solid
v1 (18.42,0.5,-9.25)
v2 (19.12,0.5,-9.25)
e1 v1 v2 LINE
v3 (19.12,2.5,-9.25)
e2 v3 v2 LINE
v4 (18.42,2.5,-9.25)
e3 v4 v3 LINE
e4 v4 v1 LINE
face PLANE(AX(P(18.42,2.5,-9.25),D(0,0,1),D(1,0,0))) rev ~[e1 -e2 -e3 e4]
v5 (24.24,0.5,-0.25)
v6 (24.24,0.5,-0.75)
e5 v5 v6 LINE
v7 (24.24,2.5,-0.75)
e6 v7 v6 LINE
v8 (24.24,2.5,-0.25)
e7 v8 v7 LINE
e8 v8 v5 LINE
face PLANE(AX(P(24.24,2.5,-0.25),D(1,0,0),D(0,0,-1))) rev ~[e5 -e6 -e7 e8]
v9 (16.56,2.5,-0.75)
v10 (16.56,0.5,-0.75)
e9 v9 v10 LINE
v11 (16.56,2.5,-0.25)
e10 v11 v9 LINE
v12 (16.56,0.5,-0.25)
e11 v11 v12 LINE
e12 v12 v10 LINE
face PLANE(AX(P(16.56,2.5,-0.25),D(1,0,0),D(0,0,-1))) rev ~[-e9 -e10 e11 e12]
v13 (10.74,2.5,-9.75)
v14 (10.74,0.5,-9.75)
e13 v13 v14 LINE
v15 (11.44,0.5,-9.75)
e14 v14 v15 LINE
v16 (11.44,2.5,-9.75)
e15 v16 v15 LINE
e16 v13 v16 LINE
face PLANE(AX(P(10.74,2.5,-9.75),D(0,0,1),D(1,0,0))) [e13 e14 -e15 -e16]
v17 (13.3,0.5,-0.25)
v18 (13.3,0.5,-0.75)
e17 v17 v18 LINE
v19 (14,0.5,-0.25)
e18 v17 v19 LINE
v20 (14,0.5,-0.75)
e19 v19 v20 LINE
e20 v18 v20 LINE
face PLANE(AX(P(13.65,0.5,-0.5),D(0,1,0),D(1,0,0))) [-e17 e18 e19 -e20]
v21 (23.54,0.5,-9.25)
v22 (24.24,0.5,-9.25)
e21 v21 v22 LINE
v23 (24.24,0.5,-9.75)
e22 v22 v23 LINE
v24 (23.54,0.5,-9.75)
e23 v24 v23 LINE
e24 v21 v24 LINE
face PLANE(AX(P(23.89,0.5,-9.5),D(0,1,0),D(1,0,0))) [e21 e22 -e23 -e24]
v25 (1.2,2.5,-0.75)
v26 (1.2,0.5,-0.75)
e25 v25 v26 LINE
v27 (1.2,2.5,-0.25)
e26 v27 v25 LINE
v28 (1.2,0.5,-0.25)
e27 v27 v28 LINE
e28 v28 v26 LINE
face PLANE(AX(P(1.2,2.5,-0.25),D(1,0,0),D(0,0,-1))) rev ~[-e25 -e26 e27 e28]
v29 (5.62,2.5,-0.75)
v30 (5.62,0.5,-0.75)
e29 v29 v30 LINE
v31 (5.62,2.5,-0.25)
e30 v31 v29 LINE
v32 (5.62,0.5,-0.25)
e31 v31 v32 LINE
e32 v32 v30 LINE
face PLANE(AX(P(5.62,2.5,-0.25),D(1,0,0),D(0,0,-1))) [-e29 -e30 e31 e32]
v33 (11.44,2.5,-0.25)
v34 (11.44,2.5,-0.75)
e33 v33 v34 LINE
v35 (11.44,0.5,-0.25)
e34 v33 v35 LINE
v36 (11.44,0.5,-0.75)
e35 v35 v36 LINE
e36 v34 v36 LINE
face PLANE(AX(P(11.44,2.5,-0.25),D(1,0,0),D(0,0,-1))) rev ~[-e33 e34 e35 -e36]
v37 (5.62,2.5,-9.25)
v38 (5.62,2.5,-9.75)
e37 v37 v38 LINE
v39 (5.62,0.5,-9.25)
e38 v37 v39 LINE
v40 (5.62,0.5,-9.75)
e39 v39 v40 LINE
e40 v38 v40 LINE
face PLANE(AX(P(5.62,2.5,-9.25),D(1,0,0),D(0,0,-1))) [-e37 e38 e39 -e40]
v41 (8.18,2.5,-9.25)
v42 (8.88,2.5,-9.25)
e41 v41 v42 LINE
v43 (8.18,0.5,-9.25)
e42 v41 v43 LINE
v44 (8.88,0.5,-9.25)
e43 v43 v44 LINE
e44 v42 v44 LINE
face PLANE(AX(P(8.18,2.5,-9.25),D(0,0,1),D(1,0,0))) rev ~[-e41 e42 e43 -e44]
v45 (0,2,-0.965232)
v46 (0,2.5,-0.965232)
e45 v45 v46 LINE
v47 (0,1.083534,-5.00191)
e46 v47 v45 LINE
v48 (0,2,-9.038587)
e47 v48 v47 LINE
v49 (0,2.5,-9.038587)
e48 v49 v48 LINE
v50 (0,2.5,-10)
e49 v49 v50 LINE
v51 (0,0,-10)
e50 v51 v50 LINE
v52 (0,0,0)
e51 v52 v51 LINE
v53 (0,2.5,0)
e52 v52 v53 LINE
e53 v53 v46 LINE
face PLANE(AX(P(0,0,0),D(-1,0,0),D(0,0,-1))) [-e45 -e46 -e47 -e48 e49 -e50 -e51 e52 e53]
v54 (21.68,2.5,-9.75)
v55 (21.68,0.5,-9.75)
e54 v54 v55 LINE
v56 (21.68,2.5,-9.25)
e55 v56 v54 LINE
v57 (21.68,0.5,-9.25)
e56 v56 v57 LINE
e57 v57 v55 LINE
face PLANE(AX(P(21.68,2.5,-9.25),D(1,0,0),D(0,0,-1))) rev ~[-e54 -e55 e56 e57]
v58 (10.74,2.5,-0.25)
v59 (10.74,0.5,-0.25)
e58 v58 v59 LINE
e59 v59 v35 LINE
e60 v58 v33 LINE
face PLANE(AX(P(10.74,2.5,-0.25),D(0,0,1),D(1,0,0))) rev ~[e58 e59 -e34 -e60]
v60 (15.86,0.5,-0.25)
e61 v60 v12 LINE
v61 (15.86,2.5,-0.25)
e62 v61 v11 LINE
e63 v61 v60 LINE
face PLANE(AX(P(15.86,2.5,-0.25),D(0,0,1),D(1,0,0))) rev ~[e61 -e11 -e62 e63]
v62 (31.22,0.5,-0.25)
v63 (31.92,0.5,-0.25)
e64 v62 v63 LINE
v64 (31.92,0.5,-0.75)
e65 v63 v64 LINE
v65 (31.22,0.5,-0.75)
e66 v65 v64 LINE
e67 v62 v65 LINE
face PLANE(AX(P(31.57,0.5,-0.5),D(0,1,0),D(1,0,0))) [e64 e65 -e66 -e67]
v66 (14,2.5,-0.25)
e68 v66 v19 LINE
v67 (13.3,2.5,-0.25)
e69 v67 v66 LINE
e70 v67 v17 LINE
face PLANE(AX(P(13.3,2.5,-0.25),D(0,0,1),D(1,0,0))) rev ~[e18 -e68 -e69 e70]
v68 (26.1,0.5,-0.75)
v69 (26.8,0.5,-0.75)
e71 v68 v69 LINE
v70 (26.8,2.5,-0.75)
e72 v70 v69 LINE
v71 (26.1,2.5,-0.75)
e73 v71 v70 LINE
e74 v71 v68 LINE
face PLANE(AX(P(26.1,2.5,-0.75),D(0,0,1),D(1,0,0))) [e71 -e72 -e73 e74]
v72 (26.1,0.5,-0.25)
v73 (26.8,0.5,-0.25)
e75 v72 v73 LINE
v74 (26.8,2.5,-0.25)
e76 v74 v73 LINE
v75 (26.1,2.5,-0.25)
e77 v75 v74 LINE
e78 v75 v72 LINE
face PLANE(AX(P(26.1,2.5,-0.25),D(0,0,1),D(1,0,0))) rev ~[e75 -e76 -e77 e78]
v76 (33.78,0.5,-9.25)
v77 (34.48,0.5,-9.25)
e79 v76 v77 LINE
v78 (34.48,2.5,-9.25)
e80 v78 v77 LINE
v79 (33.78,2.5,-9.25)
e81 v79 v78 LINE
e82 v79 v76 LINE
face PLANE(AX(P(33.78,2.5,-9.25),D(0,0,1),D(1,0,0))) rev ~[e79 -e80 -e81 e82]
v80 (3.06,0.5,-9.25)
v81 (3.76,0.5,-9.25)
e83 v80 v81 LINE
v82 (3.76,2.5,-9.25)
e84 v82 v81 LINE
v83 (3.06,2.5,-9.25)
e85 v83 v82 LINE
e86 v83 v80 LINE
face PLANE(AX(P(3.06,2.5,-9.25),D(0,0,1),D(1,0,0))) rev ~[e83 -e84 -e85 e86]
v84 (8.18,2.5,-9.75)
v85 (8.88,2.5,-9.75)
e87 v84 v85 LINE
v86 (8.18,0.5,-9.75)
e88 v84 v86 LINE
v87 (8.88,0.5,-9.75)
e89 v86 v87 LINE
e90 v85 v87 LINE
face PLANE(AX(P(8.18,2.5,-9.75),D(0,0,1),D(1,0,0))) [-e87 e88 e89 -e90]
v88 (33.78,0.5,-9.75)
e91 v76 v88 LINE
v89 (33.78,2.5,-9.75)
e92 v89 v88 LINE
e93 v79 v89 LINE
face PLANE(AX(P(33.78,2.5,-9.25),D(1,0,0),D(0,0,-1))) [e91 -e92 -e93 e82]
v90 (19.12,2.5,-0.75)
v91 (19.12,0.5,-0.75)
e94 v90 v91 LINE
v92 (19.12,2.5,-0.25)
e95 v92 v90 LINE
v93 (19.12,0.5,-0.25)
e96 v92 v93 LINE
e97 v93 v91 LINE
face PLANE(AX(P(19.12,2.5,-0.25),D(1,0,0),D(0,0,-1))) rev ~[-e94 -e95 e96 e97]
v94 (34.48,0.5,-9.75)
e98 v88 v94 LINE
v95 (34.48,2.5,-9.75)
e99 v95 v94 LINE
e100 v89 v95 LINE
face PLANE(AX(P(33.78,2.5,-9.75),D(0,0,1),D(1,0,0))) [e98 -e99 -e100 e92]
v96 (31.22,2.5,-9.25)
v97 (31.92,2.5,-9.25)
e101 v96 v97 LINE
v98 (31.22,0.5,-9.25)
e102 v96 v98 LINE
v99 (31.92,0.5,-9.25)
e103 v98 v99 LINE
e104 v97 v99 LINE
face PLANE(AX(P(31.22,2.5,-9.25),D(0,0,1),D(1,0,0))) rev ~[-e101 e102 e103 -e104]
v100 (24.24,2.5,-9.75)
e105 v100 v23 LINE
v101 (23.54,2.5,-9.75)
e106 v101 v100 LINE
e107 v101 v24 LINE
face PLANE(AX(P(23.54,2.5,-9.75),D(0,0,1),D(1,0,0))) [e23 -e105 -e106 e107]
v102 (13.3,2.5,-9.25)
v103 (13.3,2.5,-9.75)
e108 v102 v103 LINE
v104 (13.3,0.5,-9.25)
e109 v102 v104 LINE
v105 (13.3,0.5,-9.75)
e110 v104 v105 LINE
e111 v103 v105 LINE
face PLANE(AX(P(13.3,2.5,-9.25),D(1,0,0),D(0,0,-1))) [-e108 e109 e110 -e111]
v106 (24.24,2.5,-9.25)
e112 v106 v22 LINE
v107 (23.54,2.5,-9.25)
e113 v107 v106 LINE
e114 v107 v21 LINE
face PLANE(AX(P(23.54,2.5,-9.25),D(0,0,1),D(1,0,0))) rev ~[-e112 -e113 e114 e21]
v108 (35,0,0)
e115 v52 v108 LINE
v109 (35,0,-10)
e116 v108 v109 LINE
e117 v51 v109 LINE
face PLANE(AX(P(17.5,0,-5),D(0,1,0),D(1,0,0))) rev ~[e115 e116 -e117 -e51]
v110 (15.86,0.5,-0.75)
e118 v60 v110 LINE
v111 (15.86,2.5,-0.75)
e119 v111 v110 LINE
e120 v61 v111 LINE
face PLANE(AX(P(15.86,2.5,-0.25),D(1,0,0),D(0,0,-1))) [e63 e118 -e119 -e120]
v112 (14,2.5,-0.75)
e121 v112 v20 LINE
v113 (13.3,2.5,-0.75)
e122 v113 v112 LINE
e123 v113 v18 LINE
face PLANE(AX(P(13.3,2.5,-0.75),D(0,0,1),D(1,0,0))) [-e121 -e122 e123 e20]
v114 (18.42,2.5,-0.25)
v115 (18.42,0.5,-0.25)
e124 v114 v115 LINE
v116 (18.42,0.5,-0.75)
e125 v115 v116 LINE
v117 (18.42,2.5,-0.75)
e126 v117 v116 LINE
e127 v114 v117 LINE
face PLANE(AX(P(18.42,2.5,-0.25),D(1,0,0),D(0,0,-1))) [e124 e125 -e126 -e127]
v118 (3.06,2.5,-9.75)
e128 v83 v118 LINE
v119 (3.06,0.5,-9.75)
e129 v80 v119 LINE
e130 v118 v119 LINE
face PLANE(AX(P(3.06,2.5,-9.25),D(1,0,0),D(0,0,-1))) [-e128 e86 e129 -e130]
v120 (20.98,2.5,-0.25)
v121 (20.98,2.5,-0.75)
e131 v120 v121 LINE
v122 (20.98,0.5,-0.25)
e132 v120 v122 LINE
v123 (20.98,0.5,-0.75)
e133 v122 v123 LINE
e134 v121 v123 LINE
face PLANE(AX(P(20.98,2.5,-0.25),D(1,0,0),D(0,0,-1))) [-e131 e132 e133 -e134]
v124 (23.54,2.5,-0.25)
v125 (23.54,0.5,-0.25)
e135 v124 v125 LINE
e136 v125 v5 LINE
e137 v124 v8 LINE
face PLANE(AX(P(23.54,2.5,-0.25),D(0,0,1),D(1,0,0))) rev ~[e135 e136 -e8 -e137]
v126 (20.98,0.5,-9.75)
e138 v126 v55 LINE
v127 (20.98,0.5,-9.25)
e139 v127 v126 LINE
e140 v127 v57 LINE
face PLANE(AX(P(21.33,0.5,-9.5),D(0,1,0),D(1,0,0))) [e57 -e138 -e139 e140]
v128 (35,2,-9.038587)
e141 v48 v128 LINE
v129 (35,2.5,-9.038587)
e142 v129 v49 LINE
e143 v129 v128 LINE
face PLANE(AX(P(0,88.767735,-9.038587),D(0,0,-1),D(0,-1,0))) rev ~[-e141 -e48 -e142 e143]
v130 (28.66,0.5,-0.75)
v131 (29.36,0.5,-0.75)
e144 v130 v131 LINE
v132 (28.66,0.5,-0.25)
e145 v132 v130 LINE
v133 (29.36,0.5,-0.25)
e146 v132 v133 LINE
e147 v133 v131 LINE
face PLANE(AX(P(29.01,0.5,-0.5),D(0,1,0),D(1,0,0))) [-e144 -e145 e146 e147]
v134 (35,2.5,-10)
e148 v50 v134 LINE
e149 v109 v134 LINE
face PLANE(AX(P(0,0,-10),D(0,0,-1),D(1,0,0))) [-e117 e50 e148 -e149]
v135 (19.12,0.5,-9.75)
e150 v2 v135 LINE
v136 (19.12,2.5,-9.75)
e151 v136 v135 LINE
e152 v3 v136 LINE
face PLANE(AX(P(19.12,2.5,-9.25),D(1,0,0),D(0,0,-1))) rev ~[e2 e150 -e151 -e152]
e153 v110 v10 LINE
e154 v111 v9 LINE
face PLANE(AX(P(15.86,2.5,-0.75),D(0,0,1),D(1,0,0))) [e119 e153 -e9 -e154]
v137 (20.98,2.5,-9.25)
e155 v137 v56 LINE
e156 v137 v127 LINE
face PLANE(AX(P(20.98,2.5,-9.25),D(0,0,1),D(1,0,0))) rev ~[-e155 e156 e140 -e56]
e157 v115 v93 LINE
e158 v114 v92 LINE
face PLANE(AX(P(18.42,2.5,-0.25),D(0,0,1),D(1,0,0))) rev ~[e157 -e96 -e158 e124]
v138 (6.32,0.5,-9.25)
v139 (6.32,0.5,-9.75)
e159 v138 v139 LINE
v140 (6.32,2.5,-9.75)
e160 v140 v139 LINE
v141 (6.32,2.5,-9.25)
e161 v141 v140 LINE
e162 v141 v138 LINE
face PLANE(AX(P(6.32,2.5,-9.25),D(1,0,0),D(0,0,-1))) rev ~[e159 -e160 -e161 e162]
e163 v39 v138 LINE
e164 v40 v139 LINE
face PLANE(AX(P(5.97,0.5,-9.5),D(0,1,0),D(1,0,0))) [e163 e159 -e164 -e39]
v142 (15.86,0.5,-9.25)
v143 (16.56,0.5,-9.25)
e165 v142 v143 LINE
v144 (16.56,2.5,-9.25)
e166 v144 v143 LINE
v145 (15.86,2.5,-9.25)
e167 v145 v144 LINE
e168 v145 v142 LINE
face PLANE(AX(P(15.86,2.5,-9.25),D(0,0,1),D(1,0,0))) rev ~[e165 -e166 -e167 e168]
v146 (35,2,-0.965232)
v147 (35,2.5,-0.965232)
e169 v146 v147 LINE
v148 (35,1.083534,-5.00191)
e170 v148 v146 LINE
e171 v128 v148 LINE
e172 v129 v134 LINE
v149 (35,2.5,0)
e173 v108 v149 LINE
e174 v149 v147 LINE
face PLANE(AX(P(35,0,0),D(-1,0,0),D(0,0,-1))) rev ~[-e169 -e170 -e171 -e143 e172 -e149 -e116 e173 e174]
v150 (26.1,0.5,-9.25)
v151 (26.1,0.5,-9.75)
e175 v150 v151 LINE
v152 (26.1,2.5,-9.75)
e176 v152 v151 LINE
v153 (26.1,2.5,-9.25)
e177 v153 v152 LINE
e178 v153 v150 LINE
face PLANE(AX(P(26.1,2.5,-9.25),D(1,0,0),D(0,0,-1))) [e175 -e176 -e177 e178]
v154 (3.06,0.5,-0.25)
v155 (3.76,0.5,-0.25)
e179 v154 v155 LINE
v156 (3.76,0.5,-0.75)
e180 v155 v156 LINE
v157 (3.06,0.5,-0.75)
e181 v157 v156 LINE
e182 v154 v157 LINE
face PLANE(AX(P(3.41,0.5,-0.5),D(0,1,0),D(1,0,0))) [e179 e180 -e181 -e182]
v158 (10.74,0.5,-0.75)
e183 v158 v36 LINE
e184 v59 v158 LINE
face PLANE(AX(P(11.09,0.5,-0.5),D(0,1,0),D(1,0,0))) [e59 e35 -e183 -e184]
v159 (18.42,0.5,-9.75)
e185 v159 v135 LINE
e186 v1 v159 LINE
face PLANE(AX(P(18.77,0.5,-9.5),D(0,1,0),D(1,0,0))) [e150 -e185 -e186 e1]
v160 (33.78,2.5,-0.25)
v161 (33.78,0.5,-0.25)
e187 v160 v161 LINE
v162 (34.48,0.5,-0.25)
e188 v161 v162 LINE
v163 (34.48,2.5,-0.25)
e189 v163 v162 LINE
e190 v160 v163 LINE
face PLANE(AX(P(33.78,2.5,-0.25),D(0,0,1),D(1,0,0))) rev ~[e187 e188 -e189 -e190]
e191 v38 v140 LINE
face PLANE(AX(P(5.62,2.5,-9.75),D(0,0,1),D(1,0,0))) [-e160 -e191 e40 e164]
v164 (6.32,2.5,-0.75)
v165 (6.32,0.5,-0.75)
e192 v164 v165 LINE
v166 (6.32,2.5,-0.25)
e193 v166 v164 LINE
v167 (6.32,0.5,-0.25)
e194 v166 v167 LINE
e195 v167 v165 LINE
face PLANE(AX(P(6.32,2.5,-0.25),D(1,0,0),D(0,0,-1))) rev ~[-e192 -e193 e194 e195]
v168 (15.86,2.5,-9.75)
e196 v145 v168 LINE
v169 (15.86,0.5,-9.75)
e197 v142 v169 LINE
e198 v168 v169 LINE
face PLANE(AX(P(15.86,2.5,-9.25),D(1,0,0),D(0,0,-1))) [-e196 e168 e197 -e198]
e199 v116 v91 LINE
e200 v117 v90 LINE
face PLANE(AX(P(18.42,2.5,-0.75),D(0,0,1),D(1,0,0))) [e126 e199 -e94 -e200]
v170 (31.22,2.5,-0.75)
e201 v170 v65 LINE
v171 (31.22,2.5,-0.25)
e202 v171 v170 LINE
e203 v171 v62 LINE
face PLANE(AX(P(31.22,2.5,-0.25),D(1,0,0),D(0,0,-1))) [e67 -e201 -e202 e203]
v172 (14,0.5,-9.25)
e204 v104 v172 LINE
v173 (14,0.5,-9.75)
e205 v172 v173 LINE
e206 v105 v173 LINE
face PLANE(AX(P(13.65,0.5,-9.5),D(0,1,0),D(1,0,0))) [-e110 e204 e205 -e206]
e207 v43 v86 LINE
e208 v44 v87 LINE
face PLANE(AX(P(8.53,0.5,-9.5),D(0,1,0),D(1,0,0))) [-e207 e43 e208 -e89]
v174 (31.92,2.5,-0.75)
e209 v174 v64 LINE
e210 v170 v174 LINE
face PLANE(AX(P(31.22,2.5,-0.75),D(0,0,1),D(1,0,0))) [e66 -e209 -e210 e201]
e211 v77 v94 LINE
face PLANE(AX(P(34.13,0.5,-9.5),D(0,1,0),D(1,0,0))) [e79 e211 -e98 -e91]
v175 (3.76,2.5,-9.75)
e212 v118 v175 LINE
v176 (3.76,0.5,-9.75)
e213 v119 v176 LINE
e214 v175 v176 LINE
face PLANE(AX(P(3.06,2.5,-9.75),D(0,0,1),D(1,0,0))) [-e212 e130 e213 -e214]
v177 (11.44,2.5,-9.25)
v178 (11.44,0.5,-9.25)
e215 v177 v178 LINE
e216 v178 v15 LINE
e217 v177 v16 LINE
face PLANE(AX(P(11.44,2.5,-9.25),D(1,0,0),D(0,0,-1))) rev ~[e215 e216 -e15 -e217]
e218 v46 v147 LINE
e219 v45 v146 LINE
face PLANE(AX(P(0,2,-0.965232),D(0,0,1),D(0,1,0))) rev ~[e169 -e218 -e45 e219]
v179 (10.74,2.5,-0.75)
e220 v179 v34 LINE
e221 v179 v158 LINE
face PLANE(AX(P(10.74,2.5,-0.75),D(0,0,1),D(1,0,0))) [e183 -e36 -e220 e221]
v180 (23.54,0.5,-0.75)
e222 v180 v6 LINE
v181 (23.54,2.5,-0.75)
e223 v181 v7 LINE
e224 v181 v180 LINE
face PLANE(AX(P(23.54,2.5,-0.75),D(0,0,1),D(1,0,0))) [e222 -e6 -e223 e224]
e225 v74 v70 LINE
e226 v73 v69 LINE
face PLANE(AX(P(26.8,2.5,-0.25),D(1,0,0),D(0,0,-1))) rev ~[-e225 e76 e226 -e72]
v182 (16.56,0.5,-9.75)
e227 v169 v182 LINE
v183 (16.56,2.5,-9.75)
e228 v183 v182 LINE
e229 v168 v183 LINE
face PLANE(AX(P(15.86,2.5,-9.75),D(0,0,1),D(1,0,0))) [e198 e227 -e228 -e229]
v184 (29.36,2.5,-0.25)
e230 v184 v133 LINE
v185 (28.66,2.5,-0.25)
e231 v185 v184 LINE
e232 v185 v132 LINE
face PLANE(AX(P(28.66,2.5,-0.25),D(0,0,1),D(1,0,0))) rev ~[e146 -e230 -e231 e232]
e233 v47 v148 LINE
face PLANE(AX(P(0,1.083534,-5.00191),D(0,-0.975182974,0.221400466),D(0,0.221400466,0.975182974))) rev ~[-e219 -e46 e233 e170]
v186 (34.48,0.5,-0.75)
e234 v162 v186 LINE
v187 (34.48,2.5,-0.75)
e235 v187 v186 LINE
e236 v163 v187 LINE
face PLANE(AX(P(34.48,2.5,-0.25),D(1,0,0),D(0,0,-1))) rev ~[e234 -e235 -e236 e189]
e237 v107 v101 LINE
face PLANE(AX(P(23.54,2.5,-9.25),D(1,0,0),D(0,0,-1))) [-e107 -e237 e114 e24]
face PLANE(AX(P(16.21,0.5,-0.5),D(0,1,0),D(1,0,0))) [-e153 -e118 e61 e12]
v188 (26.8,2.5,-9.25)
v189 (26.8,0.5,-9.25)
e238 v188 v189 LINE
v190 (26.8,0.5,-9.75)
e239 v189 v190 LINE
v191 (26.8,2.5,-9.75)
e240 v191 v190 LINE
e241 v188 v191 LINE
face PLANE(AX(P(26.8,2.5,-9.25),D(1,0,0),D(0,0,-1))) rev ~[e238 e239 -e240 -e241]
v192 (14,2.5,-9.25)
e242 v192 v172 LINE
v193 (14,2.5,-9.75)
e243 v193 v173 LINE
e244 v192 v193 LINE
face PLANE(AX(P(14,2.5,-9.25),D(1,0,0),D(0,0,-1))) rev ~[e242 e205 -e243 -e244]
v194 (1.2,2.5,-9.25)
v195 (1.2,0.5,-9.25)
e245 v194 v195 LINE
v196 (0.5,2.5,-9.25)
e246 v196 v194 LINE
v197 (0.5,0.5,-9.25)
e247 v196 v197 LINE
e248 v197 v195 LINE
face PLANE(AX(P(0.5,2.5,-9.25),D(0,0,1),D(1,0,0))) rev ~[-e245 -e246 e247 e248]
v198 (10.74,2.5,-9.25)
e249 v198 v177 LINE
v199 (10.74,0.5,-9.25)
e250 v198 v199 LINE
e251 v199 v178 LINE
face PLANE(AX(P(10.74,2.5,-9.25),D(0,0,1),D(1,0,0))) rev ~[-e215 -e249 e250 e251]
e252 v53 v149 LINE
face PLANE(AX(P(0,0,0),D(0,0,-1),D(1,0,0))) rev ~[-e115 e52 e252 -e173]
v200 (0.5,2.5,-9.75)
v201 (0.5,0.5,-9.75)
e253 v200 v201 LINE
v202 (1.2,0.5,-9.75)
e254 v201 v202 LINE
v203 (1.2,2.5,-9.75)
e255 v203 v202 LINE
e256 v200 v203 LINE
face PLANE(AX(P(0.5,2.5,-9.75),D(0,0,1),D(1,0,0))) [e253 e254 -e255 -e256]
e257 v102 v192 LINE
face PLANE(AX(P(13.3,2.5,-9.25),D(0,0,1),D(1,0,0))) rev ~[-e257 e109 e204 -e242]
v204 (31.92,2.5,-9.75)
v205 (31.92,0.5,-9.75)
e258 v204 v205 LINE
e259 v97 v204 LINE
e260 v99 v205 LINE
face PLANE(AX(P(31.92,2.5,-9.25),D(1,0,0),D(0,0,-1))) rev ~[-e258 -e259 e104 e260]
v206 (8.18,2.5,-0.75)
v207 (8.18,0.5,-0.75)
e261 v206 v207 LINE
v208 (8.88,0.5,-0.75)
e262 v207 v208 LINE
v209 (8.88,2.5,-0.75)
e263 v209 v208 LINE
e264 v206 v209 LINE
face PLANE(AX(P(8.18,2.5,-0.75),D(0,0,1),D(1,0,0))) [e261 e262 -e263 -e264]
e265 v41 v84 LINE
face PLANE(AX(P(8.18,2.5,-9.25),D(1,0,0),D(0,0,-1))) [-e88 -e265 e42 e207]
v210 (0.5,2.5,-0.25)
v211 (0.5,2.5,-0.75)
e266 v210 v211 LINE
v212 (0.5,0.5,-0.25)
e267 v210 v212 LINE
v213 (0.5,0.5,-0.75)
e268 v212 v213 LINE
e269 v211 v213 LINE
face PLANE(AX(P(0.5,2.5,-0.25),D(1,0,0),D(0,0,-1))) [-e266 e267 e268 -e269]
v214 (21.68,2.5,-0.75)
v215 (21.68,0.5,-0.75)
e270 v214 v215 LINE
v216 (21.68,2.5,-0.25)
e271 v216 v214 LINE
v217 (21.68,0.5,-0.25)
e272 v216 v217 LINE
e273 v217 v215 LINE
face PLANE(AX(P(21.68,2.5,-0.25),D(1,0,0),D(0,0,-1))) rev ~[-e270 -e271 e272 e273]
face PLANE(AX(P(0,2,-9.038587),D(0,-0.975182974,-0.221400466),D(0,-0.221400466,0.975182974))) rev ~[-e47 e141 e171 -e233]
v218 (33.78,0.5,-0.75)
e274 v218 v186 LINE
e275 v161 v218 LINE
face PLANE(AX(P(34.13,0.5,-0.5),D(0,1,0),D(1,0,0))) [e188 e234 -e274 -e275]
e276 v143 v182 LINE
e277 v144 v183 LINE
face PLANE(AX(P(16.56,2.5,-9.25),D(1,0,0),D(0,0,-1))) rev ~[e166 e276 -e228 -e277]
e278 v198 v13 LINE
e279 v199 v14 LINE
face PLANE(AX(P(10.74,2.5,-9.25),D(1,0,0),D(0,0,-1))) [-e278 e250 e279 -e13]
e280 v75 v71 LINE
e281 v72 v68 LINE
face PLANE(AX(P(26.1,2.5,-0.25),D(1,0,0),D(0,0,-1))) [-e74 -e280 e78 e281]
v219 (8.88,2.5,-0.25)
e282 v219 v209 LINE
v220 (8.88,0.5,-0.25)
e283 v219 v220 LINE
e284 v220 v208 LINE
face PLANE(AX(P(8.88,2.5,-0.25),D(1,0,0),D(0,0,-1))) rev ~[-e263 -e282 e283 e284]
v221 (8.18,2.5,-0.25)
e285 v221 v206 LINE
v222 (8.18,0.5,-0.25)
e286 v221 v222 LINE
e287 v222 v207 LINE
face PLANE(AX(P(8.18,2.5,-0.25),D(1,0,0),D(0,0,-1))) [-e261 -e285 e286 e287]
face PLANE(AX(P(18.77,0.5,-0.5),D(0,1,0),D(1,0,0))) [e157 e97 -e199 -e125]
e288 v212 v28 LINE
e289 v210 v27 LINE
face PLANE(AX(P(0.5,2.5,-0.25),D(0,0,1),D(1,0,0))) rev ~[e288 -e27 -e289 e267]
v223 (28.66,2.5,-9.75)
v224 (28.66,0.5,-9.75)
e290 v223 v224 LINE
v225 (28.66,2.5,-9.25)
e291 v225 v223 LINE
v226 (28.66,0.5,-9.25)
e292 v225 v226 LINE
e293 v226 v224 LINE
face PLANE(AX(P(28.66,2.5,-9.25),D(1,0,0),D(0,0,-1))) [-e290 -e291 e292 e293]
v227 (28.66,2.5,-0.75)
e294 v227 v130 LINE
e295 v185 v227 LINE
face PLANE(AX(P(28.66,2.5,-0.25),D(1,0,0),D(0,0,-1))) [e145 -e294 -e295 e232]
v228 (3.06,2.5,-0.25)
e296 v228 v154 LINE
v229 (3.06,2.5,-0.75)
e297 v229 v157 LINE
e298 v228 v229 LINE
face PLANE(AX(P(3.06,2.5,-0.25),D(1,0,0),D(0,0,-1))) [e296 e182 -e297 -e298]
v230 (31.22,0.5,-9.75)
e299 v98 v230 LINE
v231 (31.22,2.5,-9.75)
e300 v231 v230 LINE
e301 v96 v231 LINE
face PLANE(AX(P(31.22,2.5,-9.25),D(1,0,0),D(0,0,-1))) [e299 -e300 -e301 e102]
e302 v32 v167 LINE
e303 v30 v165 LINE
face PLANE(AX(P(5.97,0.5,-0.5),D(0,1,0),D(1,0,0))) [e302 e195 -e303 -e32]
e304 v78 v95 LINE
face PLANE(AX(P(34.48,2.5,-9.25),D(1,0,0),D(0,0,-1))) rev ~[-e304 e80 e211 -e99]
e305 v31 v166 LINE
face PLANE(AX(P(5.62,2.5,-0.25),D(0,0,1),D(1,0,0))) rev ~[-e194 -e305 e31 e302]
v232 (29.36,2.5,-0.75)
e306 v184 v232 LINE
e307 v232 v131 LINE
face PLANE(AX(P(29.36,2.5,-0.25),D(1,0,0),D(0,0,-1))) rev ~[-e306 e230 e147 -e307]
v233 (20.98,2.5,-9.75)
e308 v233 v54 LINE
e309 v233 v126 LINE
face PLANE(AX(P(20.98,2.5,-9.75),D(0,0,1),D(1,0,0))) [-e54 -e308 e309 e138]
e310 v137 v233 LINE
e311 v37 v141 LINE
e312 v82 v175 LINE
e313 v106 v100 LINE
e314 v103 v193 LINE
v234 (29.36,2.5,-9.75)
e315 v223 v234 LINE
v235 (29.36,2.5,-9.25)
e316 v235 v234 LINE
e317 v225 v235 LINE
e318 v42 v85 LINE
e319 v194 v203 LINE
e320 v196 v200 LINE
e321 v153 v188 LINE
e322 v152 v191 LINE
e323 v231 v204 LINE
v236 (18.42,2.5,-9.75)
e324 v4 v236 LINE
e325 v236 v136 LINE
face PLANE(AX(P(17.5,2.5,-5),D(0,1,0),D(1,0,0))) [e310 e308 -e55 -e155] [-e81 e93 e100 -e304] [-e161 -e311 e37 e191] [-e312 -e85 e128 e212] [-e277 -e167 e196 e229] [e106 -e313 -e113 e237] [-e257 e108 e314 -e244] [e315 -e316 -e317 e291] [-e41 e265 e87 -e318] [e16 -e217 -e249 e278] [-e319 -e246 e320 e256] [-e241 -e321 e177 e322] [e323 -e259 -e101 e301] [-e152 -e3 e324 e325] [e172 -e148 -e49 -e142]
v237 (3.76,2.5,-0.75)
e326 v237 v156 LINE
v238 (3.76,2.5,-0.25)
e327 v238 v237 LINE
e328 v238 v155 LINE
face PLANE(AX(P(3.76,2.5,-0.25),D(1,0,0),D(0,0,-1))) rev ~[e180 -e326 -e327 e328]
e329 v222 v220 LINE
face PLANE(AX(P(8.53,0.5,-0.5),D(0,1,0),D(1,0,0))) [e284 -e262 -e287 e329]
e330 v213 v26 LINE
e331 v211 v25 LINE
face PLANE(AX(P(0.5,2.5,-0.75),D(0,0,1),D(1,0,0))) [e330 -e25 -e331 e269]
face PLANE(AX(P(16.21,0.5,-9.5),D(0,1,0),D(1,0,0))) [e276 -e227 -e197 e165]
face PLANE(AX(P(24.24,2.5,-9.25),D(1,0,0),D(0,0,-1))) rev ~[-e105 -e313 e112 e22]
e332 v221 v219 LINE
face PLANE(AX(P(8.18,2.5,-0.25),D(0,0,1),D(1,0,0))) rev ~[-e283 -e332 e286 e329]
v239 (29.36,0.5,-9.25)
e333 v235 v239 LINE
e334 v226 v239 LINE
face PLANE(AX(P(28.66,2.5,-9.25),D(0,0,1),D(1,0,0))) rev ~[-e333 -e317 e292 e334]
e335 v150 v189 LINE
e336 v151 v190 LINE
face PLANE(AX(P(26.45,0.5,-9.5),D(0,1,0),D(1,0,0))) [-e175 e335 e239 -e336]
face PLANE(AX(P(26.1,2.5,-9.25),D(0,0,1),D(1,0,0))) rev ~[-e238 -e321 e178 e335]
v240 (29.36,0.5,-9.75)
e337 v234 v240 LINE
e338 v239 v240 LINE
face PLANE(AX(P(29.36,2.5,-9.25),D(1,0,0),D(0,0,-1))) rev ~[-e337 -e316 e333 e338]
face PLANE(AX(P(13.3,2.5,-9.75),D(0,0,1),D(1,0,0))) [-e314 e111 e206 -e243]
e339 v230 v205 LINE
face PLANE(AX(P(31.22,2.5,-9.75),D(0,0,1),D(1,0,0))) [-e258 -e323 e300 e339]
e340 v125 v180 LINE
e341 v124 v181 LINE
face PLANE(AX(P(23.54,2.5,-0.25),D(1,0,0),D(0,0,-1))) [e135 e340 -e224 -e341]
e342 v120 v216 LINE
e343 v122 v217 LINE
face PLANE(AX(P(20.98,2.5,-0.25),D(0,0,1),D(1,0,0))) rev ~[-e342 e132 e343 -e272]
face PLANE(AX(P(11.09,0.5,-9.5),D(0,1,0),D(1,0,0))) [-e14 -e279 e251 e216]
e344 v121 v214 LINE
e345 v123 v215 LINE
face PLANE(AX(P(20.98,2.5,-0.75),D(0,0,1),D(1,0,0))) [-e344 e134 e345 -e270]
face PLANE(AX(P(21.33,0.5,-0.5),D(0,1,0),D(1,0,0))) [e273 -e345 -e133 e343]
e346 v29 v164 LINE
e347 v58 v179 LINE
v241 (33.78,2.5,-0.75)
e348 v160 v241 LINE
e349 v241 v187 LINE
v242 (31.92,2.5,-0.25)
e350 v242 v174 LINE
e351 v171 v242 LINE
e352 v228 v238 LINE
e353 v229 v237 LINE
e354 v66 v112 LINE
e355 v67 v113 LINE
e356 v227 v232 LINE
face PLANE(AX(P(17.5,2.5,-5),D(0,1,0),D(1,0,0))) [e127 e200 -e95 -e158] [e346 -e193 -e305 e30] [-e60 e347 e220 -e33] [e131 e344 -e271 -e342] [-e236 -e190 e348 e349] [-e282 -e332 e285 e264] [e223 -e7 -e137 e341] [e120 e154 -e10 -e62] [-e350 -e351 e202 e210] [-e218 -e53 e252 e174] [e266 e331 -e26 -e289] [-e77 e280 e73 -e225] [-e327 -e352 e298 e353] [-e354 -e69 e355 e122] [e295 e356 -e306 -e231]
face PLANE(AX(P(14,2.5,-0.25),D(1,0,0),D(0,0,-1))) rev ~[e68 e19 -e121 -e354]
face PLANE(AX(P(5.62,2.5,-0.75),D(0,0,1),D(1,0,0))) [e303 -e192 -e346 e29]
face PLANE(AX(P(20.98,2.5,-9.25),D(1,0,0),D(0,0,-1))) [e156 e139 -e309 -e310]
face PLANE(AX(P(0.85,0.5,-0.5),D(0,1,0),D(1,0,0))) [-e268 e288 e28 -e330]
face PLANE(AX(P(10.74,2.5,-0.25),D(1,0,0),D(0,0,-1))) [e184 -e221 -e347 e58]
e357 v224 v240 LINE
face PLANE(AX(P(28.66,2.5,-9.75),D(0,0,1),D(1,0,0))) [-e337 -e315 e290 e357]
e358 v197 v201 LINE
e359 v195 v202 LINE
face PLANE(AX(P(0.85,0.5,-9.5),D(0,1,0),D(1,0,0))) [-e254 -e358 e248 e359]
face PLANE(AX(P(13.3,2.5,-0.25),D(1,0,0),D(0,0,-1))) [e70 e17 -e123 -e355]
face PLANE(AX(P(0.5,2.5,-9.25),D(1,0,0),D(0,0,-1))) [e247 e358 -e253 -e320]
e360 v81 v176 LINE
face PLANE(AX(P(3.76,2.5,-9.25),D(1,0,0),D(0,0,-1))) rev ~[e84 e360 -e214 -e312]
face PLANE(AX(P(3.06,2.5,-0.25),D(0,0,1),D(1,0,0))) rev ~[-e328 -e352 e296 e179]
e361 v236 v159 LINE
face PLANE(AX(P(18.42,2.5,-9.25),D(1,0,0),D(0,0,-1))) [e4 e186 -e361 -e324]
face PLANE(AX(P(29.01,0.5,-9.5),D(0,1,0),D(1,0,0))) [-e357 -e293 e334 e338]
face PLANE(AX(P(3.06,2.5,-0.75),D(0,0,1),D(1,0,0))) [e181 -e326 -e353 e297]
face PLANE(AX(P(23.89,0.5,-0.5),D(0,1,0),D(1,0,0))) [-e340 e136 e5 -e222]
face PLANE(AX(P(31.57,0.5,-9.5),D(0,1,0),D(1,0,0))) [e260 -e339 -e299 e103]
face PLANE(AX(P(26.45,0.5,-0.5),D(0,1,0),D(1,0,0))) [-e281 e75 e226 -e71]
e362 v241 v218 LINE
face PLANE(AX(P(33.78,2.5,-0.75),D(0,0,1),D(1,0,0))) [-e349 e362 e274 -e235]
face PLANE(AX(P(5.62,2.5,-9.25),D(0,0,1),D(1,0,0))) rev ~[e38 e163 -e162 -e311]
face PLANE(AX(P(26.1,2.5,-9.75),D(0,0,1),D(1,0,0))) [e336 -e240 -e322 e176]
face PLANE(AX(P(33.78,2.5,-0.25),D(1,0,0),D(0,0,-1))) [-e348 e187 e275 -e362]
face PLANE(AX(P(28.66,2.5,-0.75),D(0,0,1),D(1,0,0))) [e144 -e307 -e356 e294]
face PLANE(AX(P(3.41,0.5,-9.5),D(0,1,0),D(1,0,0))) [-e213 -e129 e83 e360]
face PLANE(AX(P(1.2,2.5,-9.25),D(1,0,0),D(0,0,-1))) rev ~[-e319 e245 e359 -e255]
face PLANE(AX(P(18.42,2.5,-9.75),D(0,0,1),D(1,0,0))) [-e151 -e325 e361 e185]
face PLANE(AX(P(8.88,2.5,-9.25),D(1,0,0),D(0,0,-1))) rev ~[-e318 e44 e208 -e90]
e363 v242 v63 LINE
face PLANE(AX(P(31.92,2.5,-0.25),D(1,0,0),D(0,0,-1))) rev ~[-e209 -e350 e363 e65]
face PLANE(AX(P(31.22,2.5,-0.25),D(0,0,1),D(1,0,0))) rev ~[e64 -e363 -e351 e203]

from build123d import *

# Parameters (mm, degrees)
SKETCH2_W               = 35
SKETCH2_H               = 10
BOSS_EXTRUDE1_DEPTH     = 2.5
SKETCH3_W               = 0.7
SKETCH3_H               = 0.5
CUT_EXTRUDE1_DEPTH      = 2
LPATTERN1_COUNT         = 14
LPATTERN1_PITCH         = 2.56
LPATTERN1_COUNT_DIR2    = 2
LPATTERN1_PITCH_DIR2    = 9
CUT_EXTRUDE2_DEPTH      = 1
CUT_EXTRUDE2_DEPTH_BACK = 36


with BuildPart() as part:
    # Sketch2 → Boss-Extrude1 (new body)
    with BuildSketch(Plane(origin=(0, 0, 0), x_dir=(1, 0, 0), z_dir=(0, 1, 0))):
        with Locations((17.5, 5)):
            Rectangle(SKETCH2_W, SKETCH2_H)
    extrude(amount=BOSS_EXTRUDE1_DEPTH)

    # Sketch3 → Cut-Extrude1 (cut)
    with BuildSketch(Plane(origin=(0, 2.5, 0), x_dir=(1, 0, 0), z_dir=(0, 1, 0))):
        with Locations((0.85, 0.5)):
            Rectangle(SKETCH3_W, SKETCH3_H)
    cut_extrude1 = extrude(amount=-CUT_EXTRUDE1_DEPTH, mode=Mode.SUBTRACT)

    # LPattern1: Cut-Extrude1 14 × 2
    with Locations(*[(i * LPATTERN1_PITCH, 0, -j * LPATTERN1_PITCH_DIR2) for i in range(LPATTERN1_COUNT) for j in range(LPATTERN1_COUNT_DIR2) if (i, j) != (0, 0)]):
        add(cut_extrude1, mode=Mode.SUBTRACT)

    # Sketch4 → Cut-Extrude2 (cut, two sides)
    with BuildSketch(Plane.ZY) as cut_extrude2_sk:
        Polygon((-9.038587053, 31.255911699), (-9.038587053, 2.5), (-9.038587053, 2), (-5.001909552, 1.083533753), (-0.965232052, 2), (-0.965232052, 2.5), (-0.965232052, 31.255911699), (-0.965232052, 88.767735096), (-9.038587053, 88.767735096), align=None)
    extrude(amount=CUT_EXTRUDE2_DEPTH, mode=Mode.SUBTRACT)
    extrude(cut_extrude2_sk.sketch, amount=-CUT_EXTRUDE2_DEPTH_BACK, mode=Mode.SUBTRACT)


solid = part.part
